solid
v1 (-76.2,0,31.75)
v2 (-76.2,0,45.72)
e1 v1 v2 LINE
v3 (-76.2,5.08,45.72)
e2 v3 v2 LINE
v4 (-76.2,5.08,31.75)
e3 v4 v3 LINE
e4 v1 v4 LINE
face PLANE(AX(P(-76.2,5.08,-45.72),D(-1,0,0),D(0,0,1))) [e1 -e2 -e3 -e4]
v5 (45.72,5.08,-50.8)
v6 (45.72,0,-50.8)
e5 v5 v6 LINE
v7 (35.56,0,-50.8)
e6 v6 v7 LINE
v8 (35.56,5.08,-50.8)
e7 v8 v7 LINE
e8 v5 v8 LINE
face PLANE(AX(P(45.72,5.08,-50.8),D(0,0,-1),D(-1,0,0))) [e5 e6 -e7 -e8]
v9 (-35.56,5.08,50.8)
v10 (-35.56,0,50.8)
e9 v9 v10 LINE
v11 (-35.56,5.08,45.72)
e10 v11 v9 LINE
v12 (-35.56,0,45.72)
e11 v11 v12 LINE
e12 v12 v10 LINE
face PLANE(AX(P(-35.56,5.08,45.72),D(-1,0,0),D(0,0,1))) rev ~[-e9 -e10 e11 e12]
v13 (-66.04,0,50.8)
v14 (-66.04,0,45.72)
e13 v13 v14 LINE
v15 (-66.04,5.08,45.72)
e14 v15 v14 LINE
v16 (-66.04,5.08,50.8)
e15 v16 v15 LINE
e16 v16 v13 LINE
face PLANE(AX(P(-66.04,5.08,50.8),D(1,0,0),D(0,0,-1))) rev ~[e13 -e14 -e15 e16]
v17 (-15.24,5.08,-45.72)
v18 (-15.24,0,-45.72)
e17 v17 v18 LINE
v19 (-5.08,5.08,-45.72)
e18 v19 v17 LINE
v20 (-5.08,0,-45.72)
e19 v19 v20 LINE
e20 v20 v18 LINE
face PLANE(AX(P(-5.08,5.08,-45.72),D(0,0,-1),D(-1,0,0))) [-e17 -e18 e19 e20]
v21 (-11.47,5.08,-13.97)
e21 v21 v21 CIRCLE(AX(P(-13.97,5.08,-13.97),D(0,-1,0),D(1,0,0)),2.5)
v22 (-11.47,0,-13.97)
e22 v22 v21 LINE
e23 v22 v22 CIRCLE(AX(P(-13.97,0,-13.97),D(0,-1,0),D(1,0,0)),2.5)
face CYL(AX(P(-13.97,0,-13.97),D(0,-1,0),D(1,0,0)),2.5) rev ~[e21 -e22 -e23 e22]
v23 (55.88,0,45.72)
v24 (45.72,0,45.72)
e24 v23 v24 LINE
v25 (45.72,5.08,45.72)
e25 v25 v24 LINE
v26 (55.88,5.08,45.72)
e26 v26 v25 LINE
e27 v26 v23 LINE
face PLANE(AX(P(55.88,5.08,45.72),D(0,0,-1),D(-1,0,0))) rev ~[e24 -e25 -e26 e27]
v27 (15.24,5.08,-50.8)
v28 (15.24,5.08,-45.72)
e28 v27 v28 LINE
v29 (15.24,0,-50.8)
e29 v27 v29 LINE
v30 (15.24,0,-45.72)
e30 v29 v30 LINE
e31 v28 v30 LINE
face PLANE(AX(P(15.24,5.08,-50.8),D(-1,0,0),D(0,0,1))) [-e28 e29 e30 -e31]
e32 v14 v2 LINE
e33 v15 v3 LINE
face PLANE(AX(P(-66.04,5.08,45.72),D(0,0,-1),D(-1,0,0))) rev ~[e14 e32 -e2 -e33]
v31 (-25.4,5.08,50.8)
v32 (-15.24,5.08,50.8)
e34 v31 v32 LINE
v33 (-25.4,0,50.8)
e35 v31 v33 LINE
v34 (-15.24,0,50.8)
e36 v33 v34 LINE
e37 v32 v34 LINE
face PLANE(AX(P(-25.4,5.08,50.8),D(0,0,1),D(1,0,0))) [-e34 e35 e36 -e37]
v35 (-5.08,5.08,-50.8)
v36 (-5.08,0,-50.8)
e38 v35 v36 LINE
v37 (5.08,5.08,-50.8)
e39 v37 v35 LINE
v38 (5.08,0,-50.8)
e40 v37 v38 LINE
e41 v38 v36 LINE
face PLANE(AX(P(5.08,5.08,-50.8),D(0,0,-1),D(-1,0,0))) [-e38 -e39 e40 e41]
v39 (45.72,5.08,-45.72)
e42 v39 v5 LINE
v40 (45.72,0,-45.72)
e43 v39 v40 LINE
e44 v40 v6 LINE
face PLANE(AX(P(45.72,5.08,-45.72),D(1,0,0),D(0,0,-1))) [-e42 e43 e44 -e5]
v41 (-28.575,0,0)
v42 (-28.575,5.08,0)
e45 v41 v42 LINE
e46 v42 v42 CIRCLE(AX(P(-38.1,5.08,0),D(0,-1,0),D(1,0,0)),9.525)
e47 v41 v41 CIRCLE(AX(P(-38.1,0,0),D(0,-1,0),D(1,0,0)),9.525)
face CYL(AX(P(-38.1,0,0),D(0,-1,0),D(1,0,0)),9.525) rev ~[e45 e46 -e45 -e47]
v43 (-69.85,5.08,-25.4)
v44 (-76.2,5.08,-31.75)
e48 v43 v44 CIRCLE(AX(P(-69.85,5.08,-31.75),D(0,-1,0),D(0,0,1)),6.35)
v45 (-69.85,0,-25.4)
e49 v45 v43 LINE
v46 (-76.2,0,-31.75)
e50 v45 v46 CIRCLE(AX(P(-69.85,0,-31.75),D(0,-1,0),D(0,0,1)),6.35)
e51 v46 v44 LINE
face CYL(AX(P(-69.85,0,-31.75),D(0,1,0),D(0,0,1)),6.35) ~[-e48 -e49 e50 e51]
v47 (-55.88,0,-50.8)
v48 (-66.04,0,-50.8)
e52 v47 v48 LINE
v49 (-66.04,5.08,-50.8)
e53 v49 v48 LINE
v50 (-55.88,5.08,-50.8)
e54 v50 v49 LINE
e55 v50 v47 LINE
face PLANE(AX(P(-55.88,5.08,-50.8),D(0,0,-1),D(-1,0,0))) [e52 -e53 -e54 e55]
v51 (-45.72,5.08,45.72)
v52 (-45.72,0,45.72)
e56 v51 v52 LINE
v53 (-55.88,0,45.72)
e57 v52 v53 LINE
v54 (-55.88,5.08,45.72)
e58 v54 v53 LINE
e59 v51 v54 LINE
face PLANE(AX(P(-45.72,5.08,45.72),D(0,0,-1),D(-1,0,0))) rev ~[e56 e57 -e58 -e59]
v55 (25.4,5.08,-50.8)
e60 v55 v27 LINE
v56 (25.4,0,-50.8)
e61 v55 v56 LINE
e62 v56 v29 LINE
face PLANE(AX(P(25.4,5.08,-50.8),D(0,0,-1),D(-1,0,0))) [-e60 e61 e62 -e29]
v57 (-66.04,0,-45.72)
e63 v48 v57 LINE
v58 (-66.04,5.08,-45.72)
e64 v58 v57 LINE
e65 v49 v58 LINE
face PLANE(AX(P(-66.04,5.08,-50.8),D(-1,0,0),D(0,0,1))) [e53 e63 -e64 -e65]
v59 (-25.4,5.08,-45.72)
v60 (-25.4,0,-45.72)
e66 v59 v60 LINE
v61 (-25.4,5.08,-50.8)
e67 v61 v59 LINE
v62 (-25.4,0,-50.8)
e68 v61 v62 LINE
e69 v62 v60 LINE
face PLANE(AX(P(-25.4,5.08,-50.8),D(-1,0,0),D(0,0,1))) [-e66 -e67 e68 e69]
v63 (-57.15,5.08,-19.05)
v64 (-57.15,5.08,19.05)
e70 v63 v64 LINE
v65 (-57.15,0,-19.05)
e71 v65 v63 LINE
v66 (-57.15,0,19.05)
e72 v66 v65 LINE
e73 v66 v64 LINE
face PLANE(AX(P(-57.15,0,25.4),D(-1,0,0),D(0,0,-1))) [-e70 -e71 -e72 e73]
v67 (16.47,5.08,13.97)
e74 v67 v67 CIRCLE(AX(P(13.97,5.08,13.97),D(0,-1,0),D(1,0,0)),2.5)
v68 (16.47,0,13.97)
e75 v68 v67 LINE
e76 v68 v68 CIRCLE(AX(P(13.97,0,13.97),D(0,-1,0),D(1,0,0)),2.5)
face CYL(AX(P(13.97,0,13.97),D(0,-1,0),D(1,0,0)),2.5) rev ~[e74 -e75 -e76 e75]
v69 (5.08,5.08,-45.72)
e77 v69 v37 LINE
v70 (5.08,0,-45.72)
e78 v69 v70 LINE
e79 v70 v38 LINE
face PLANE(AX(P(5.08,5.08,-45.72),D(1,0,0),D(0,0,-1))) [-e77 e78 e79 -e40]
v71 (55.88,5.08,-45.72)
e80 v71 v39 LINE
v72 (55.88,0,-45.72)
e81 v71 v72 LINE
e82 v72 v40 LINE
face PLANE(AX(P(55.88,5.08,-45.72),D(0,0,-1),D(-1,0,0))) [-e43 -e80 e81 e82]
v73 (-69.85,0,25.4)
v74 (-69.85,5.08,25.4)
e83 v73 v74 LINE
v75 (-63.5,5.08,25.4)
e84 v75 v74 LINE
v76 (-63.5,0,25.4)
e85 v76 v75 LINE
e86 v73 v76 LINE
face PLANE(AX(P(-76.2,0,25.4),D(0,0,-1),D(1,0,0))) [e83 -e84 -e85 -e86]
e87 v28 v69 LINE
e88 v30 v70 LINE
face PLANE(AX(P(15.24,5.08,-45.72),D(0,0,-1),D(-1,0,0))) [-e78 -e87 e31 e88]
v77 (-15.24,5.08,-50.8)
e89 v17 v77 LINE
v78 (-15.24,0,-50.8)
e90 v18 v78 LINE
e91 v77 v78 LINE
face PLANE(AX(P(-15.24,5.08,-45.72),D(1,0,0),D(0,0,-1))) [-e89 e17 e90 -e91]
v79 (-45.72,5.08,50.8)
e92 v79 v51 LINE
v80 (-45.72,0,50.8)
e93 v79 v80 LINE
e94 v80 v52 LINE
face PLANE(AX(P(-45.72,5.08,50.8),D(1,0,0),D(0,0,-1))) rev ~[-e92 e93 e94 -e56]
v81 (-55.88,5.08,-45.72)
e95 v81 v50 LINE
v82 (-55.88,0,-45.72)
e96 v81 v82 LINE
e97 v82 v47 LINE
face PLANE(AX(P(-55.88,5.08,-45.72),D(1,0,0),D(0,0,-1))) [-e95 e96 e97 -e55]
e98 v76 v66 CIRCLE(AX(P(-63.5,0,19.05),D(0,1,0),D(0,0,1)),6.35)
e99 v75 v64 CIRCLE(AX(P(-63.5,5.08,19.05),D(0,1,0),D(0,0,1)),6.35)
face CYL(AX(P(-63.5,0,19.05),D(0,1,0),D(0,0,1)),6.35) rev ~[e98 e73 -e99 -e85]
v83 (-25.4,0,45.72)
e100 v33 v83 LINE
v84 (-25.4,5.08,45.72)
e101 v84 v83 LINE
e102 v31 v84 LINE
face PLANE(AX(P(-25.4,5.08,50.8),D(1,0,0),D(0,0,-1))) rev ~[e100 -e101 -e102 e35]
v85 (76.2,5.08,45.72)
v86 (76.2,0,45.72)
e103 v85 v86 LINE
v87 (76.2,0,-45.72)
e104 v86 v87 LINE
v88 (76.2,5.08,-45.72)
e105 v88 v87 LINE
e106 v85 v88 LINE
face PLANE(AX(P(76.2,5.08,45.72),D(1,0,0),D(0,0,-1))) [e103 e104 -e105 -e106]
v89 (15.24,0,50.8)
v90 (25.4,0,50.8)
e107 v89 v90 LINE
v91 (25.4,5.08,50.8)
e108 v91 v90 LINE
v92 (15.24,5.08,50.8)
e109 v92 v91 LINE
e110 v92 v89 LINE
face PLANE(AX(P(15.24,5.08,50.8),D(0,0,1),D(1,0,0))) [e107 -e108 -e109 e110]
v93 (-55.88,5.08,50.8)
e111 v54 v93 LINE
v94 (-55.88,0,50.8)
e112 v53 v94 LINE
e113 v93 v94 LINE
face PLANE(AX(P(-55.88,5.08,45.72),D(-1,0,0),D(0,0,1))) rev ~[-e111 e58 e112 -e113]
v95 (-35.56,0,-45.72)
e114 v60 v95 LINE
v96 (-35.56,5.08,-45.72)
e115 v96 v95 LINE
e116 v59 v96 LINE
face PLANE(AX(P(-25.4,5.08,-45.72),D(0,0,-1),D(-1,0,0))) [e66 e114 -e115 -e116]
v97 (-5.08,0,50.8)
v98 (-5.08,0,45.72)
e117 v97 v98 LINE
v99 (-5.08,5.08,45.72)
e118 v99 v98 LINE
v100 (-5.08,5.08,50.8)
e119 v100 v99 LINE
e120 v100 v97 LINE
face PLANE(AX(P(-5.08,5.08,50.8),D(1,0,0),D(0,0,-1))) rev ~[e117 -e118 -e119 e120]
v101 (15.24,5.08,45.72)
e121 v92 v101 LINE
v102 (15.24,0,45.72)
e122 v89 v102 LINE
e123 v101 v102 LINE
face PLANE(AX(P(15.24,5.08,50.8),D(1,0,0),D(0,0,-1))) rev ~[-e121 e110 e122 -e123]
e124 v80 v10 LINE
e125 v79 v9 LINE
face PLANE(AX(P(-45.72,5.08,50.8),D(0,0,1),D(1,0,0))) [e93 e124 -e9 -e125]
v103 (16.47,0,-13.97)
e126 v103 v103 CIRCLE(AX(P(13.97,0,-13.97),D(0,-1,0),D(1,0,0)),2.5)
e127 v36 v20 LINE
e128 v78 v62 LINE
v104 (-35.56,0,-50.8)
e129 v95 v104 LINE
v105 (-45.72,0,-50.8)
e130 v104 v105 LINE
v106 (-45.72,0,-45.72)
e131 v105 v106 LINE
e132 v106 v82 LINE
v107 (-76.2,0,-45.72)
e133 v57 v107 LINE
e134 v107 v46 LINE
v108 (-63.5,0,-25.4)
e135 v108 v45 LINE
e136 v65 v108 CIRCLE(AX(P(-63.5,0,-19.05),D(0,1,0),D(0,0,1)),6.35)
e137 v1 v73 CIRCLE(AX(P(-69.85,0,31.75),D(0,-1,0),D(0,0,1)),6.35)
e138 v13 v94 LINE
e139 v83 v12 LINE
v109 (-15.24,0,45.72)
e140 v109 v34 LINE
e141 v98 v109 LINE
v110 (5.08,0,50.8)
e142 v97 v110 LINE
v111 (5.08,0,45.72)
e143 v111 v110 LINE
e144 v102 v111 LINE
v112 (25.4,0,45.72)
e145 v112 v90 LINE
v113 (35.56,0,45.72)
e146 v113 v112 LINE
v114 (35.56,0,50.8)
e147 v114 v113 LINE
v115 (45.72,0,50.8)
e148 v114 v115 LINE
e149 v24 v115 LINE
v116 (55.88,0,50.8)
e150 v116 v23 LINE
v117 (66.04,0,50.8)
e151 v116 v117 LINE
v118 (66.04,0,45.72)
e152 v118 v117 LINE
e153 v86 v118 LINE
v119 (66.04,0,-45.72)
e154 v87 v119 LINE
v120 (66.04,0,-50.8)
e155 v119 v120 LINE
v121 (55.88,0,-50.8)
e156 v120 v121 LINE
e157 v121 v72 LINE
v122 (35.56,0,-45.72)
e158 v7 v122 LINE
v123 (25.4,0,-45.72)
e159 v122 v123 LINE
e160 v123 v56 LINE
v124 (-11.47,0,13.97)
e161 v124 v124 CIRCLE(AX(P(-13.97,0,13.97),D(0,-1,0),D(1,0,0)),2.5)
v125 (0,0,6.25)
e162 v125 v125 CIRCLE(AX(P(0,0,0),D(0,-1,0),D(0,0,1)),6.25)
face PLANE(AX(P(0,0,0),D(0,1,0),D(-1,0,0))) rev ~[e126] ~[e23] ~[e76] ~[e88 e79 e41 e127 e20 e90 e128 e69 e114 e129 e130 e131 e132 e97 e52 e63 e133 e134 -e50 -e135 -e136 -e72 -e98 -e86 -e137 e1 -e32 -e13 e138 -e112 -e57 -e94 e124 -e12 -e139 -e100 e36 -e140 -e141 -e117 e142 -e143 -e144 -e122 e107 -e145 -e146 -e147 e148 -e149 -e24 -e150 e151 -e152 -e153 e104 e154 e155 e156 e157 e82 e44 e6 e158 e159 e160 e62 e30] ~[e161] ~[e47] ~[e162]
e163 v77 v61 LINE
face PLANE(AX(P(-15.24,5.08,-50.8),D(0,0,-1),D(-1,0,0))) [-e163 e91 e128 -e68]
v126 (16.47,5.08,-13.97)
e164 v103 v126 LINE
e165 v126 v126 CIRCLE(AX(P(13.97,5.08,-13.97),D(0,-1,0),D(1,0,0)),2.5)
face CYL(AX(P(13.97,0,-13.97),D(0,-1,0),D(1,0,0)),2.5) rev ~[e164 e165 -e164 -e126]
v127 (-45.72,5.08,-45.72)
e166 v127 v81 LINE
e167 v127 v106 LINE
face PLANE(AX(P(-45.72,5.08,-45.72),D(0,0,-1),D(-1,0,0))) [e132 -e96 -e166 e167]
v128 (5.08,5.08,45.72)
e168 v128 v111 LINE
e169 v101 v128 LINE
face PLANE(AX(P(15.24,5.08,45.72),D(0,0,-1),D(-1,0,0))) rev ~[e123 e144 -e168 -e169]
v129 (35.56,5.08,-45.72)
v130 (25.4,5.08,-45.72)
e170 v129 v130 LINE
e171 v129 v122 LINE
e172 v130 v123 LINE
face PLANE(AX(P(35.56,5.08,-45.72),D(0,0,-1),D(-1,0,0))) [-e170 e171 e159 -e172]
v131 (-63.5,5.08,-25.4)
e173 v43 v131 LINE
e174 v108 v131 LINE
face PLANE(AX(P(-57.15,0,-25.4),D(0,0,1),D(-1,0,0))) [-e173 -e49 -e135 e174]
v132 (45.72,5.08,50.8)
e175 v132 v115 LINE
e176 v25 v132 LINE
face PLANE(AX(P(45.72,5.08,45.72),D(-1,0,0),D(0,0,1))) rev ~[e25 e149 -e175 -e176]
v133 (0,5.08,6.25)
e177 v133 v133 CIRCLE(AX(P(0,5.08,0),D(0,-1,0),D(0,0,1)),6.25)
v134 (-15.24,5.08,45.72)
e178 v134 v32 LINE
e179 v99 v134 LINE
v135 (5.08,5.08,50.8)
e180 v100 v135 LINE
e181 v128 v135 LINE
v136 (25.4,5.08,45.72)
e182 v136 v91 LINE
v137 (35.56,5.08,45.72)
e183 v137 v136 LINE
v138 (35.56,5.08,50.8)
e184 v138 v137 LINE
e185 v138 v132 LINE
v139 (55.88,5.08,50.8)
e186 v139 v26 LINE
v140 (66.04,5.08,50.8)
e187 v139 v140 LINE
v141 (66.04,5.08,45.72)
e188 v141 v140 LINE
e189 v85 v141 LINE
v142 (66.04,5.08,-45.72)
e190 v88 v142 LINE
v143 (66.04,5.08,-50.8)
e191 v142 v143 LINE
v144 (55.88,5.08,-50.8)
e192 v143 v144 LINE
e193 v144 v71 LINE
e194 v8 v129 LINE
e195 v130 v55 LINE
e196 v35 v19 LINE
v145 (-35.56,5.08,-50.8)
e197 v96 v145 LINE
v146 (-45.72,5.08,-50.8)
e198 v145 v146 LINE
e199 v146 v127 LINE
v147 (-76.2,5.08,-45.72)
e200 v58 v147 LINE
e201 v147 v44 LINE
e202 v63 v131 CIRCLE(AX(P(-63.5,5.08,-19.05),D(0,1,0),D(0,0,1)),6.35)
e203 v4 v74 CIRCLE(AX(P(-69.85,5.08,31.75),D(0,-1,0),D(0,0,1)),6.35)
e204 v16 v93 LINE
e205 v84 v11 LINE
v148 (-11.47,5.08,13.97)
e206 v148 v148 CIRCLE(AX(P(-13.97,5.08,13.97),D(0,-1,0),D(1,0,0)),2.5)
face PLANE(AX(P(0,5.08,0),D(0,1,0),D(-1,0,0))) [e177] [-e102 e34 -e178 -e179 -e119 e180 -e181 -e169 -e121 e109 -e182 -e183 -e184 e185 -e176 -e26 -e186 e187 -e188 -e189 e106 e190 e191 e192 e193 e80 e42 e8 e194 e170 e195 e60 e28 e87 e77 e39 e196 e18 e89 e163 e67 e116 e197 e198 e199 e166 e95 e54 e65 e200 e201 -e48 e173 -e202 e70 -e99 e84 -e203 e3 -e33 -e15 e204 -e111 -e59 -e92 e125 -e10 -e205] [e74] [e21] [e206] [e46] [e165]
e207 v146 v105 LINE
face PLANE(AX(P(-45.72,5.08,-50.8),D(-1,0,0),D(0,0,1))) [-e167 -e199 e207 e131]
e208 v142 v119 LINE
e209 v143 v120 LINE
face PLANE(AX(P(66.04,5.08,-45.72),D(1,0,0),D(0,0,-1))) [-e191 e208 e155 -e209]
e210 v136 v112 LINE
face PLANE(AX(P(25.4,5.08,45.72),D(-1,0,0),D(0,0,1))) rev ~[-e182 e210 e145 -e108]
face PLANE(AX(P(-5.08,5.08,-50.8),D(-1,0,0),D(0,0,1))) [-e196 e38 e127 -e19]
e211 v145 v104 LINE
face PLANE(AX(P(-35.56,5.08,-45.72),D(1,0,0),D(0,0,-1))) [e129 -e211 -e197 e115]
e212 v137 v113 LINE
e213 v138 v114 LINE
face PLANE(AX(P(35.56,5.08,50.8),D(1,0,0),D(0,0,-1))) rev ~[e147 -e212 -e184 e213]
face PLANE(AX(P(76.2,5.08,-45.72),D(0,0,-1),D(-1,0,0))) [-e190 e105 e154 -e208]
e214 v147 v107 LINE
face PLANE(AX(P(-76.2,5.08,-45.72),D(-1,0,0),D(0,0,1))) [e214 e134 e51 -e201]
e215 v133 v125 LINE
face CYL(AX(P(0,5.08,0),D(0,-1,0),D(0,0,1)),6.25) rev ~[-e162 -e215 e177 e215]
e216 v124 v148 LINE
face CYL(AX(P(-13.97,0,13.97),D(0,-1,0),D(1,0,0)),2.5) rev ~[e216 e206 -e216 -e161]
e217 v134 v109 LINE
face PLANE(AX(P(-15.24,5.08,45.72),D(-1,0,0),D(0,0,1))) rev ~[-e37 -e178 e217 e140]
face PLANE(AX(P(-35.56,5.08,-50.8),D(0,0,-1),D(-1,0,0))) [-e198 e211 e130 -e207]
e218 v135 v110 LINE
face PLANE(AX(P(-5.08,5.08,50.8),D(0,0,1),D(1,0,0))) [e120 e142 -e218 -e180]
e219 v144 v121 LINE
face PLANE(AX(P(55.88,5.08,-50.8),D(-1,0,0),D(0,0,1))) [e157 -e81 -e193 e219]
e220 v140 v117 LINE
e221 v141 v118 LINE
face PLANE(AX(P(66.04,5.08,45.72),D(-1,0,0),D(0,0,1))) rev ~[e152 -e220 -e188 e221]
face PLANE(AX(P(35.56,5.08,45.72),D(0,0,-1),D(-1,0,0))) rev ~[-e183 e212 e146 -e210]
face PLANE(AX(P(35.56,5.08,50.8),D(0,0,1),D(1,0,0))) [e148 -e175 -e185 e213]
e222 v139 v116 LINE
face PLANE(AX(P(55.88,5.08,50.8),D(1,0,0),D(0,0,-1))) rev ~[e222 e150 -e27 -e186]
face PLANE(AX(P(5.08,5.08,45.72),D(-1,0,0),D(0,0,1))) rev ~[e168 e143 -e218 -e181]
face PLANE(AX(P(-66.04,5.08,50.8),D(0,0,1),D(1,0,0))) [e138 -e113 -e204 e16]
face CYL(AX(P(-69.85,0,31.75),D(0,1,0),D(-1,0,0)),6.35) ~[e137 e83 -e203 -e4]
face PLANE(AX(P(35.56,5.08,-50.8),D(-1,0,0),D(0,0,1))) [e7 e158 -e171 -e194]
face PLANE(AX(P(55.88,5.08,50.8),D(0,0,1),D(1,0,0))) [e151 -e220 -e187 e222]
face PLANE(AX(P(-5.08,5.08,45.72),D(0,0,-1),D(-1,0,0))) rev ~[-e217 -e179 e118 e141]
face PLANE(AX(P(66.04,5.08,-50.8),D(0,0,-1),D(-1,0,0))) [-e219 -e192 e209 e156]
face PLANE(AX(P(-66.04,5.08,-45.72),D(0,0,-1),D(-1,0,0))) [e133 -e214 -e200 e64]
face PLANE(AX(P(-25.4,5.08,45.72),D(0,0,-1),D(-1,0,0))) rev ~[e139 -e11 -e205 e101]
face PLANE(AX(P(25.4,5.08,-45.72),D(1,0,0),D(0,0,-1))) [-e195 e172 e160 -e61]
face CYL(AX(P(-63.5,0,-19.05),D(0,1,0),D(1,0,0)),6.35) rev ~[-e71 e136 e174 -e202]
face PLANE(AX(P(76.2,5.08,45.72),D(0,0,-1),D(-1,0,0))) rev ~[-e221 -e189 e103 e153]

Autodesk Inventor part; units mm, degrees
ref_plane "YZ Plane" through (0, 0, 0) normal (1, 0, 0) x (0, 1, 0)
ref_plane "XZ Plane" through (0, 0, 0) normal (0, 1, 0) x (-1, 0, 0)
ref_plane "XY Plane" through (0, 0, 0) normal (0, 0, 1) x (1, 0, 0)
sketch "Sketch1" plane through (0, 0, 0) normal (0, 1, 0) x (-1, 0, 0)
  line L0 (-76.2, 50.8) -> (76.2, 50.8)
  line L1 (76.2, 50.8) -> (76.2, -50.8)
  line L2 (76.2, -50.8) -> (-76.2, -50.8)
  line L3 (-76.2, -50.8) -> (-76.2, 50.8)
  line L4 (-76.2, 50.8) -> (76.2, -50.8) construction
  line L5 (76.2, 50.8) -> (-76.2, -50.8) construction
  point P0 (0, 0)
  dimension "d0" = 152.4
  dimension "d1" = 101.6
extrude "Extrusion1" add sketch "Sketch1" along normal blind 5.08
sketch "Sketch2" plane through (0, 5.08, 0) normal (0, 1, 0) x (1, 0, 0)
  line L0 (-76.2, -50.8) -> (76.2, -50.8) projected
  line L1 (76.2, -50.8) -> (76.2, 50.8) projected
  line L2 (76.2, 50.8) -> (-76.2, 50.8) projected
  line L3 (-76.2, 50.8) -> (-76.2, -50.8) projected
  line L4 (-76.2, -50.8) -> (-66.04, -50.8)
  line L5 (-66.04, -50.8) -> (-66.04, -45.72)
  line L6 (-66.04, -45.72) -> (-76.2, -45.72)
  line L7 (-76.2, -45.72) -> (-76.2, -50.8)
  line L8 (-55.88, -50.8) -> (-45.72, -50.8)
  line L9 (-45.72, -50.8) -> (-45.72, -45.72)
  line L10 (-45.72, -45.72) -> (-55.88, -45.72)
  line L11 (-55.88, -45.72) -> (-55.88, -50.8)
  line L12 (-35.56, -50.8) -> (-25.4, -50.8)
  line L13 (-25.4, -50.8) -> (-25.4, -45.72)
  line L14 (-25.4, -45.72) -> (-35.56, -45.72)
  line L15 (-35.56, -45.72) -> (-35.56, -50.8)
  line L16 (-15.24, -50.8) -> (-5.08, -50.8)
  line L17 (-5.08, -50.8) -> (-5.08, -45.72)
  line L18 (-5.08, -45.72) -> (-15.24, -45.72)
  line L19 (-15.24, -45.72) -> (-15.24, -50.8)
  line L20 (5.08, -50.8) -> (15.24, -50.8)
  line L21 (15.24, -50.8) -> (15.24, -45.72)
  line L22 (15.24, -45.72) -> (5.08, -45.72)
  line L23 (5.08, -45.72) -> (5.08, -50.8)
  line L24 (25.4, -50.8) -> (35.56, -50.8)
  line L25 (35.56, -50.8) -> (35.56, -45.72)
  line L26 (35.56, -45.72) -> (25.4, -45.72)
  line L27 (25.4, -45.72) -> (25.4, -50.8)
  line L28 (45.72, -50.8) -> (55.88, -50.8)
  line L29 (55.88, -50.8) -> (55.88, -45.72)
  line L30 (55.88, -45.72) -> (45.72, -45.72)
  line L31 (45.72, -45.72) -> (45.72, -50.8)
  line L32 (66.04, -50.8) -> (76.2, -50.8)
  line L33 (76.2, -50.8) -> (76.2, -45.72)
  line L34 (76.2, -45.72) -> (66.04, -45.72)
  line L35 (66.04, -45.72) -> (66.04, -50.8)
  line L36 (-76.2, 50.8) -> (-76.2, -50.8) construction
  line L37 (-76.2, 0) -> (76.2, 0) construction
  line L38 (-76.2, 50.8) -> (76.2, 50.8)
  line L39 (-76.2, 50.8) -> (-66.04, 50.8)
  line L40 (-66.04, 50.8) -> (-66.04, 45.72)
  line L41 (-66.04, 45.72) -> (-76.2, 45.72)
  line L42 (-76.2, 45.72) -> (-76.2, 50.8)
  line L43 (-55.88, 50.8) -> (-45.72, 50.8)
  line L44 (-45.72, 50.8) -> (-45.72, 45.72)
  line L45 (-45.72, 45.72) -> (-55.88, 45.72)
  line L46 (-55.88, 45.72) -> (-55.88, 50.8)
  line L47 (-35.56, 50.8) -> (-25.4, 50.8)
  line L48 (-25.4, 50.8) -> (-25.4, 45.72)
  line L49 (-25.4, 45.72) -> (-35.56, 45.72)
  line L50 (-35.56, 45.72) -> (-35.56, 50.8)
  line L51 (-15.24, 50.8) -> (-5.08, 50.8)
  line L52 (-5.08, 50.8) -> (-5.08, 45.72)
  line L53 (-5.08, 45.72) -> (-15.24, 45.72)
  line L54 (-15.24, 45.72) -> (-15.24, 50.8)
  line L55 (5.08, 50.8) -> (15.24, 50.8)
  line L56 (15.24, 50.8) -> (15.24, 45.72)
  line L57 (15.24, 45.72) -> (5.08, 45.72)
  line L58 (5.08, 45.72) -> (5.08, 50.8)
  line L59 (25.4, 50.8) -> (35.56, 50.8)
  line L60 (35.56, 50.8) -> (35.56, 45.72)
  line L61 (35.56, 45.72) -> (25.4, 45.72)
  line L62 (25.4, 45.72) -> (25.4, 50.8)
  line L63 (45.72, 50.8) -> (55.88, 50.8)
  line L64 (55.88, 50.8) -> (55.88, 45.72)
  line L65 (55.88, 45.72) -> (45.72, 45.72)
  line L66 (45.72, 45.72) -> (45.72, 50.8)
  line L67 (66.04, 50.8) -> (76.2, 50.8)
  line L68 (76.2, 50.8) -> (76.2, 45.72)
  line L69 (76.2, 45.72) -> (66.04, 45.72)
  line L70 (66.04, 45.72) -> (66.04, 50.8)
  point P0 (0, 0)
  point P1 (0, 0)
  dimension "d11" = 10.16
  dimension "d12" = 5.08
  dimension "d13" = 0
  dimension "d16" = 20.32
hole "Hole1" at (0, 5.08, 0) direction (0, -1, 0) diameter 12.5 end through all
extrude "Extrusion2" cut sketch "Sketch2" against normal blind 5.08 contours L5 L6 L3 L41 L40 L2 L46 L45 L44 L50 L49 L48 L54 L53 L52 L58 L57 L56 L62 L61 L60 L66 L65 L64 L70 L69 L1 L34 L35 L0 L29 L30 L31 L25 L26 L27 L21 L22 L23 L17 L18 L19 L13 L14 L15 L9 L10 L11 keep common part
sketch "Sketch3" plane through (0, 0, 0) normal (0, -1, 0) x (1, 0, 0)
  circle A0 centre (-38.1, 0) radius 9.525
  line L0 (0, 0) -> (-38.1, 0) construction
  dimension "d23" = 19.05
  dimension "d24" = 38.1
extrude "Extrusion3" cut sketch "Sketch3" against normal blind 25.4
sketch "Sketch4" plane through (0, 0, 0) normal (0, -1, 0) x (1, 0, 0)
  circle A0 centre (13.97, -13.97) radius 2.5
  circle A1 centre (-13.97, -13.97) radius 2.5
  circle A2 centre (-13.97, 13.97) radius 2.5
  circle A3 centre (13.97, 13.97) radius 2.5
  point P0 (0, 0)
extrude "Extrusion4" cut sketch "Sketch4" against normal blind 25.4
sketch "Sketch5" plane through (0, 0, 0) normal (0, -1, 0) x (1, 0, 0)
  circle A0 centre (-13.97, 13.97) radius 2.5 projected
  circle A1 centre (13.97, -13.97) radius 2.5 projected
  circle A2 centre (-13.97, -13.97) radius 2.5 projected
  circle A3 centre (13.97, 13.97) radius 2.5 projected
  circle A4 centre (-38.1, 0) radius 9.525 projected
  circle A5 centre (0, 0) radius 6.25 projected
  line L0 (66.04, -45.72) -> (66.04, -50.8) construction
  line L1 (76.2, -45.72) -> (66.04, -45.72) construction
  line L2 (76.2, -45.72) -> (76.2, 45.72) construction
  line L3 (66.04, 45.72) -> (76.2, 45.72) construction
  line L4 (66.04, 50.8) -> (66.04, 45.72) construction
  line L5 (66.04, 50.8) -> (55.88, 50.8) construction
  line L6 (55.88, 45.72) -> (55.88, 50.8) construction
  line L7 (45.72, 45.72) -> (55.88, 45.72) construction
  line L8 (45.72, 50.8) -> (45.72, 45.72) construction
  line L9 (45.72, 50.8) -> (35.56, 50.8) construction
  line L10 (35.56, 45.72) -> (35.56, 50.8) projected
  line L11 (25.4, 45.72) -> (35.56, 45.72) projected
  line L12 (25.4, 50.8) -> (25.4, 45.72) projected
  line L13 (25.4, 50.8) -> (15.24, 50.8) projected
  line L14 (15.24, 45.72) -> (15.24, 50.8) projected
  line L15 (5.08, 45.72) -> (15.24, 45.72) projected
  line L16 (5.08, 50.8) -> (5.08, 45.72) projected
  line L17 (5.08, 50.8) -> (-5.08, 50.8) projected
  line L18 (-5.08, 45.72) -> (-5.08, 50.8) projected
  line L19 (-15.24, 45.72) -> (-5.08, 45.72) projected
  line L20 (-15.24, 50.8) -> (-15.24, 45.72) projected
  line L21 (-15.24, 50.8) -> (-25.4, 50.8) projected
  line L22 (-25.4, 45.72) -> (-25.4, 50.8) projected
  line L23 (-35.56, 45.72) -> (-25.4, 45.72) projected
  line L24 (-35.56, 50.8) -> (-35.56, 45.72) projected
  line L25 (-35.56, 50.8) -> (-45.72, 50.8) projected
  line L26 (-45.72, 45.72) -> (-45.72, 50.8) projected
  line L27 (-55.88, 45.72) -> (-45.72, 45.72) projected
  line L28 (-55.88, 50.8) -> (-55.88, 45.72) projected
  line L29 (-55.88, 50.8) -> (-66.04, 50.8) projected
  line L30 (-66.04, 45.72) -> (-66.04, 50.8) projected
  line L31 (-76.2, 45.72) -> (-66.04, 45.72) projected
  line L32 (-76.2, 45.72) -> (-76.2, -45.72) projected
  line L33 (-66.04, -45.72) -> (-76.2, -45.72) projected
  line L34 (-66.04, -50.8) -> (-66.04, -45.72) projected
  line L35 (-66.04, -50.8) -> (-55.88, -50.8) projected
  line L36 (-55.88, -45.72) -> (-55.88, -50.8) projected
  line L37 (-45.72, -45.72) -> (-55.88, -45.72) projected
  line L38 (-45.72, -50.8) -> (-45.72, -45.72) projected
  line L39 (-45.72, -50.8) -> (-35.56, -50.8) projected
  line L40 (-35.56, -45.72) -> (-35.56, -50.8) projected
  line L41 (-25.4, -45.72) -> (-35.56, -45.72) projected
  line L42 (-25.4, -50.8) -> (-25.4, -45.72) projected
  line L43 (-25.4, -50.8) -> (-15.24, -50.8) projected
  line L44 (-15.24, -45.72) -> (-15.24, -50.8) projected
  line L45 (-5.08, -45.72) -> (-15.24, -45.72) projected
  line L46 (-5.08, -50.8) -> (-5.08, -45.72) projected
  line L47 (-5.08, -50.8) -> (5.08, -50.8) projected
  line L48 (5.08, -45.72) -> (5.08, -50.8) projected
  line L49 (15.24, -45.72) -> (5.08, -45.72) projected
  line L50 (15.24, -50.8) -> (15.24, -45.72) projected
  line L51 (15.24, -50.8) -> (25.4, -50.8) projected
  line L52 (25.4, -45.72) -> (25.4, -50.8) projected
  line L53 (35.56, -45.72) -> (25.4, -45.72) projected
  line L54 (35.56, -50.8) -> (35.56, -45.72) projected
  line L55 (35.56, -50.8) -> (45.72, -50.8) construction
  line L56 (45.72, -45.72) -> (45.72, -50.8) construction
  line L57 (55.88, -45.72) -> (45.72, -45.72) construction
  line L58 (55.88, -50.8) -> (55.88, -45.72) construction
  line L59 (55.88, -50.8) -> (66.04, -50.8) construction
  line L60 (-76.2, -45.72) -> (-76.2, 45.72) projected
  line L61 (-76.2, 25.4) -> (-57.15, 25.4)
  line L62 (-57.15, 25.4) -> (-57.15, -25.4)
  line L63 (-57.15, -25.4) -> (-76.2, -25.4)
  line L64 (-76.2, -25.4) -> (-76.2, 25.4)
  line L65 (-57.15, 0) -> (-76.2, 0) construction
  line L66 (-76.2, 25.4) -> (-57.15, 25.4)
  line L67 (-57.15, 25.4) -> (-57.15, -25.4)
  line L68 (-57.15, -25.4) -> (-76.2, -25.4)
  line L69 (-76.2, -25.4) -> (-76.2, 25.4)
  dimension "d29" = 50.8
  dimension "d30" = 19.05
extrude "Extrusion5" cut sketch "Sketch5" against normal blind 25.4 contours L61 L62 L63 L32
fillet "Fillet1" radius 6.35 4 edges at (-57.15, 2.54, -25.4) (-76.2, 2.54, -25.4) (-57.15, 2.54, 25.4) (-76.2, 2.54, 25.4)
equation "\"d16\" = 2 * d11"
properties part number "ArmMount" material "Wood (Birch)"
